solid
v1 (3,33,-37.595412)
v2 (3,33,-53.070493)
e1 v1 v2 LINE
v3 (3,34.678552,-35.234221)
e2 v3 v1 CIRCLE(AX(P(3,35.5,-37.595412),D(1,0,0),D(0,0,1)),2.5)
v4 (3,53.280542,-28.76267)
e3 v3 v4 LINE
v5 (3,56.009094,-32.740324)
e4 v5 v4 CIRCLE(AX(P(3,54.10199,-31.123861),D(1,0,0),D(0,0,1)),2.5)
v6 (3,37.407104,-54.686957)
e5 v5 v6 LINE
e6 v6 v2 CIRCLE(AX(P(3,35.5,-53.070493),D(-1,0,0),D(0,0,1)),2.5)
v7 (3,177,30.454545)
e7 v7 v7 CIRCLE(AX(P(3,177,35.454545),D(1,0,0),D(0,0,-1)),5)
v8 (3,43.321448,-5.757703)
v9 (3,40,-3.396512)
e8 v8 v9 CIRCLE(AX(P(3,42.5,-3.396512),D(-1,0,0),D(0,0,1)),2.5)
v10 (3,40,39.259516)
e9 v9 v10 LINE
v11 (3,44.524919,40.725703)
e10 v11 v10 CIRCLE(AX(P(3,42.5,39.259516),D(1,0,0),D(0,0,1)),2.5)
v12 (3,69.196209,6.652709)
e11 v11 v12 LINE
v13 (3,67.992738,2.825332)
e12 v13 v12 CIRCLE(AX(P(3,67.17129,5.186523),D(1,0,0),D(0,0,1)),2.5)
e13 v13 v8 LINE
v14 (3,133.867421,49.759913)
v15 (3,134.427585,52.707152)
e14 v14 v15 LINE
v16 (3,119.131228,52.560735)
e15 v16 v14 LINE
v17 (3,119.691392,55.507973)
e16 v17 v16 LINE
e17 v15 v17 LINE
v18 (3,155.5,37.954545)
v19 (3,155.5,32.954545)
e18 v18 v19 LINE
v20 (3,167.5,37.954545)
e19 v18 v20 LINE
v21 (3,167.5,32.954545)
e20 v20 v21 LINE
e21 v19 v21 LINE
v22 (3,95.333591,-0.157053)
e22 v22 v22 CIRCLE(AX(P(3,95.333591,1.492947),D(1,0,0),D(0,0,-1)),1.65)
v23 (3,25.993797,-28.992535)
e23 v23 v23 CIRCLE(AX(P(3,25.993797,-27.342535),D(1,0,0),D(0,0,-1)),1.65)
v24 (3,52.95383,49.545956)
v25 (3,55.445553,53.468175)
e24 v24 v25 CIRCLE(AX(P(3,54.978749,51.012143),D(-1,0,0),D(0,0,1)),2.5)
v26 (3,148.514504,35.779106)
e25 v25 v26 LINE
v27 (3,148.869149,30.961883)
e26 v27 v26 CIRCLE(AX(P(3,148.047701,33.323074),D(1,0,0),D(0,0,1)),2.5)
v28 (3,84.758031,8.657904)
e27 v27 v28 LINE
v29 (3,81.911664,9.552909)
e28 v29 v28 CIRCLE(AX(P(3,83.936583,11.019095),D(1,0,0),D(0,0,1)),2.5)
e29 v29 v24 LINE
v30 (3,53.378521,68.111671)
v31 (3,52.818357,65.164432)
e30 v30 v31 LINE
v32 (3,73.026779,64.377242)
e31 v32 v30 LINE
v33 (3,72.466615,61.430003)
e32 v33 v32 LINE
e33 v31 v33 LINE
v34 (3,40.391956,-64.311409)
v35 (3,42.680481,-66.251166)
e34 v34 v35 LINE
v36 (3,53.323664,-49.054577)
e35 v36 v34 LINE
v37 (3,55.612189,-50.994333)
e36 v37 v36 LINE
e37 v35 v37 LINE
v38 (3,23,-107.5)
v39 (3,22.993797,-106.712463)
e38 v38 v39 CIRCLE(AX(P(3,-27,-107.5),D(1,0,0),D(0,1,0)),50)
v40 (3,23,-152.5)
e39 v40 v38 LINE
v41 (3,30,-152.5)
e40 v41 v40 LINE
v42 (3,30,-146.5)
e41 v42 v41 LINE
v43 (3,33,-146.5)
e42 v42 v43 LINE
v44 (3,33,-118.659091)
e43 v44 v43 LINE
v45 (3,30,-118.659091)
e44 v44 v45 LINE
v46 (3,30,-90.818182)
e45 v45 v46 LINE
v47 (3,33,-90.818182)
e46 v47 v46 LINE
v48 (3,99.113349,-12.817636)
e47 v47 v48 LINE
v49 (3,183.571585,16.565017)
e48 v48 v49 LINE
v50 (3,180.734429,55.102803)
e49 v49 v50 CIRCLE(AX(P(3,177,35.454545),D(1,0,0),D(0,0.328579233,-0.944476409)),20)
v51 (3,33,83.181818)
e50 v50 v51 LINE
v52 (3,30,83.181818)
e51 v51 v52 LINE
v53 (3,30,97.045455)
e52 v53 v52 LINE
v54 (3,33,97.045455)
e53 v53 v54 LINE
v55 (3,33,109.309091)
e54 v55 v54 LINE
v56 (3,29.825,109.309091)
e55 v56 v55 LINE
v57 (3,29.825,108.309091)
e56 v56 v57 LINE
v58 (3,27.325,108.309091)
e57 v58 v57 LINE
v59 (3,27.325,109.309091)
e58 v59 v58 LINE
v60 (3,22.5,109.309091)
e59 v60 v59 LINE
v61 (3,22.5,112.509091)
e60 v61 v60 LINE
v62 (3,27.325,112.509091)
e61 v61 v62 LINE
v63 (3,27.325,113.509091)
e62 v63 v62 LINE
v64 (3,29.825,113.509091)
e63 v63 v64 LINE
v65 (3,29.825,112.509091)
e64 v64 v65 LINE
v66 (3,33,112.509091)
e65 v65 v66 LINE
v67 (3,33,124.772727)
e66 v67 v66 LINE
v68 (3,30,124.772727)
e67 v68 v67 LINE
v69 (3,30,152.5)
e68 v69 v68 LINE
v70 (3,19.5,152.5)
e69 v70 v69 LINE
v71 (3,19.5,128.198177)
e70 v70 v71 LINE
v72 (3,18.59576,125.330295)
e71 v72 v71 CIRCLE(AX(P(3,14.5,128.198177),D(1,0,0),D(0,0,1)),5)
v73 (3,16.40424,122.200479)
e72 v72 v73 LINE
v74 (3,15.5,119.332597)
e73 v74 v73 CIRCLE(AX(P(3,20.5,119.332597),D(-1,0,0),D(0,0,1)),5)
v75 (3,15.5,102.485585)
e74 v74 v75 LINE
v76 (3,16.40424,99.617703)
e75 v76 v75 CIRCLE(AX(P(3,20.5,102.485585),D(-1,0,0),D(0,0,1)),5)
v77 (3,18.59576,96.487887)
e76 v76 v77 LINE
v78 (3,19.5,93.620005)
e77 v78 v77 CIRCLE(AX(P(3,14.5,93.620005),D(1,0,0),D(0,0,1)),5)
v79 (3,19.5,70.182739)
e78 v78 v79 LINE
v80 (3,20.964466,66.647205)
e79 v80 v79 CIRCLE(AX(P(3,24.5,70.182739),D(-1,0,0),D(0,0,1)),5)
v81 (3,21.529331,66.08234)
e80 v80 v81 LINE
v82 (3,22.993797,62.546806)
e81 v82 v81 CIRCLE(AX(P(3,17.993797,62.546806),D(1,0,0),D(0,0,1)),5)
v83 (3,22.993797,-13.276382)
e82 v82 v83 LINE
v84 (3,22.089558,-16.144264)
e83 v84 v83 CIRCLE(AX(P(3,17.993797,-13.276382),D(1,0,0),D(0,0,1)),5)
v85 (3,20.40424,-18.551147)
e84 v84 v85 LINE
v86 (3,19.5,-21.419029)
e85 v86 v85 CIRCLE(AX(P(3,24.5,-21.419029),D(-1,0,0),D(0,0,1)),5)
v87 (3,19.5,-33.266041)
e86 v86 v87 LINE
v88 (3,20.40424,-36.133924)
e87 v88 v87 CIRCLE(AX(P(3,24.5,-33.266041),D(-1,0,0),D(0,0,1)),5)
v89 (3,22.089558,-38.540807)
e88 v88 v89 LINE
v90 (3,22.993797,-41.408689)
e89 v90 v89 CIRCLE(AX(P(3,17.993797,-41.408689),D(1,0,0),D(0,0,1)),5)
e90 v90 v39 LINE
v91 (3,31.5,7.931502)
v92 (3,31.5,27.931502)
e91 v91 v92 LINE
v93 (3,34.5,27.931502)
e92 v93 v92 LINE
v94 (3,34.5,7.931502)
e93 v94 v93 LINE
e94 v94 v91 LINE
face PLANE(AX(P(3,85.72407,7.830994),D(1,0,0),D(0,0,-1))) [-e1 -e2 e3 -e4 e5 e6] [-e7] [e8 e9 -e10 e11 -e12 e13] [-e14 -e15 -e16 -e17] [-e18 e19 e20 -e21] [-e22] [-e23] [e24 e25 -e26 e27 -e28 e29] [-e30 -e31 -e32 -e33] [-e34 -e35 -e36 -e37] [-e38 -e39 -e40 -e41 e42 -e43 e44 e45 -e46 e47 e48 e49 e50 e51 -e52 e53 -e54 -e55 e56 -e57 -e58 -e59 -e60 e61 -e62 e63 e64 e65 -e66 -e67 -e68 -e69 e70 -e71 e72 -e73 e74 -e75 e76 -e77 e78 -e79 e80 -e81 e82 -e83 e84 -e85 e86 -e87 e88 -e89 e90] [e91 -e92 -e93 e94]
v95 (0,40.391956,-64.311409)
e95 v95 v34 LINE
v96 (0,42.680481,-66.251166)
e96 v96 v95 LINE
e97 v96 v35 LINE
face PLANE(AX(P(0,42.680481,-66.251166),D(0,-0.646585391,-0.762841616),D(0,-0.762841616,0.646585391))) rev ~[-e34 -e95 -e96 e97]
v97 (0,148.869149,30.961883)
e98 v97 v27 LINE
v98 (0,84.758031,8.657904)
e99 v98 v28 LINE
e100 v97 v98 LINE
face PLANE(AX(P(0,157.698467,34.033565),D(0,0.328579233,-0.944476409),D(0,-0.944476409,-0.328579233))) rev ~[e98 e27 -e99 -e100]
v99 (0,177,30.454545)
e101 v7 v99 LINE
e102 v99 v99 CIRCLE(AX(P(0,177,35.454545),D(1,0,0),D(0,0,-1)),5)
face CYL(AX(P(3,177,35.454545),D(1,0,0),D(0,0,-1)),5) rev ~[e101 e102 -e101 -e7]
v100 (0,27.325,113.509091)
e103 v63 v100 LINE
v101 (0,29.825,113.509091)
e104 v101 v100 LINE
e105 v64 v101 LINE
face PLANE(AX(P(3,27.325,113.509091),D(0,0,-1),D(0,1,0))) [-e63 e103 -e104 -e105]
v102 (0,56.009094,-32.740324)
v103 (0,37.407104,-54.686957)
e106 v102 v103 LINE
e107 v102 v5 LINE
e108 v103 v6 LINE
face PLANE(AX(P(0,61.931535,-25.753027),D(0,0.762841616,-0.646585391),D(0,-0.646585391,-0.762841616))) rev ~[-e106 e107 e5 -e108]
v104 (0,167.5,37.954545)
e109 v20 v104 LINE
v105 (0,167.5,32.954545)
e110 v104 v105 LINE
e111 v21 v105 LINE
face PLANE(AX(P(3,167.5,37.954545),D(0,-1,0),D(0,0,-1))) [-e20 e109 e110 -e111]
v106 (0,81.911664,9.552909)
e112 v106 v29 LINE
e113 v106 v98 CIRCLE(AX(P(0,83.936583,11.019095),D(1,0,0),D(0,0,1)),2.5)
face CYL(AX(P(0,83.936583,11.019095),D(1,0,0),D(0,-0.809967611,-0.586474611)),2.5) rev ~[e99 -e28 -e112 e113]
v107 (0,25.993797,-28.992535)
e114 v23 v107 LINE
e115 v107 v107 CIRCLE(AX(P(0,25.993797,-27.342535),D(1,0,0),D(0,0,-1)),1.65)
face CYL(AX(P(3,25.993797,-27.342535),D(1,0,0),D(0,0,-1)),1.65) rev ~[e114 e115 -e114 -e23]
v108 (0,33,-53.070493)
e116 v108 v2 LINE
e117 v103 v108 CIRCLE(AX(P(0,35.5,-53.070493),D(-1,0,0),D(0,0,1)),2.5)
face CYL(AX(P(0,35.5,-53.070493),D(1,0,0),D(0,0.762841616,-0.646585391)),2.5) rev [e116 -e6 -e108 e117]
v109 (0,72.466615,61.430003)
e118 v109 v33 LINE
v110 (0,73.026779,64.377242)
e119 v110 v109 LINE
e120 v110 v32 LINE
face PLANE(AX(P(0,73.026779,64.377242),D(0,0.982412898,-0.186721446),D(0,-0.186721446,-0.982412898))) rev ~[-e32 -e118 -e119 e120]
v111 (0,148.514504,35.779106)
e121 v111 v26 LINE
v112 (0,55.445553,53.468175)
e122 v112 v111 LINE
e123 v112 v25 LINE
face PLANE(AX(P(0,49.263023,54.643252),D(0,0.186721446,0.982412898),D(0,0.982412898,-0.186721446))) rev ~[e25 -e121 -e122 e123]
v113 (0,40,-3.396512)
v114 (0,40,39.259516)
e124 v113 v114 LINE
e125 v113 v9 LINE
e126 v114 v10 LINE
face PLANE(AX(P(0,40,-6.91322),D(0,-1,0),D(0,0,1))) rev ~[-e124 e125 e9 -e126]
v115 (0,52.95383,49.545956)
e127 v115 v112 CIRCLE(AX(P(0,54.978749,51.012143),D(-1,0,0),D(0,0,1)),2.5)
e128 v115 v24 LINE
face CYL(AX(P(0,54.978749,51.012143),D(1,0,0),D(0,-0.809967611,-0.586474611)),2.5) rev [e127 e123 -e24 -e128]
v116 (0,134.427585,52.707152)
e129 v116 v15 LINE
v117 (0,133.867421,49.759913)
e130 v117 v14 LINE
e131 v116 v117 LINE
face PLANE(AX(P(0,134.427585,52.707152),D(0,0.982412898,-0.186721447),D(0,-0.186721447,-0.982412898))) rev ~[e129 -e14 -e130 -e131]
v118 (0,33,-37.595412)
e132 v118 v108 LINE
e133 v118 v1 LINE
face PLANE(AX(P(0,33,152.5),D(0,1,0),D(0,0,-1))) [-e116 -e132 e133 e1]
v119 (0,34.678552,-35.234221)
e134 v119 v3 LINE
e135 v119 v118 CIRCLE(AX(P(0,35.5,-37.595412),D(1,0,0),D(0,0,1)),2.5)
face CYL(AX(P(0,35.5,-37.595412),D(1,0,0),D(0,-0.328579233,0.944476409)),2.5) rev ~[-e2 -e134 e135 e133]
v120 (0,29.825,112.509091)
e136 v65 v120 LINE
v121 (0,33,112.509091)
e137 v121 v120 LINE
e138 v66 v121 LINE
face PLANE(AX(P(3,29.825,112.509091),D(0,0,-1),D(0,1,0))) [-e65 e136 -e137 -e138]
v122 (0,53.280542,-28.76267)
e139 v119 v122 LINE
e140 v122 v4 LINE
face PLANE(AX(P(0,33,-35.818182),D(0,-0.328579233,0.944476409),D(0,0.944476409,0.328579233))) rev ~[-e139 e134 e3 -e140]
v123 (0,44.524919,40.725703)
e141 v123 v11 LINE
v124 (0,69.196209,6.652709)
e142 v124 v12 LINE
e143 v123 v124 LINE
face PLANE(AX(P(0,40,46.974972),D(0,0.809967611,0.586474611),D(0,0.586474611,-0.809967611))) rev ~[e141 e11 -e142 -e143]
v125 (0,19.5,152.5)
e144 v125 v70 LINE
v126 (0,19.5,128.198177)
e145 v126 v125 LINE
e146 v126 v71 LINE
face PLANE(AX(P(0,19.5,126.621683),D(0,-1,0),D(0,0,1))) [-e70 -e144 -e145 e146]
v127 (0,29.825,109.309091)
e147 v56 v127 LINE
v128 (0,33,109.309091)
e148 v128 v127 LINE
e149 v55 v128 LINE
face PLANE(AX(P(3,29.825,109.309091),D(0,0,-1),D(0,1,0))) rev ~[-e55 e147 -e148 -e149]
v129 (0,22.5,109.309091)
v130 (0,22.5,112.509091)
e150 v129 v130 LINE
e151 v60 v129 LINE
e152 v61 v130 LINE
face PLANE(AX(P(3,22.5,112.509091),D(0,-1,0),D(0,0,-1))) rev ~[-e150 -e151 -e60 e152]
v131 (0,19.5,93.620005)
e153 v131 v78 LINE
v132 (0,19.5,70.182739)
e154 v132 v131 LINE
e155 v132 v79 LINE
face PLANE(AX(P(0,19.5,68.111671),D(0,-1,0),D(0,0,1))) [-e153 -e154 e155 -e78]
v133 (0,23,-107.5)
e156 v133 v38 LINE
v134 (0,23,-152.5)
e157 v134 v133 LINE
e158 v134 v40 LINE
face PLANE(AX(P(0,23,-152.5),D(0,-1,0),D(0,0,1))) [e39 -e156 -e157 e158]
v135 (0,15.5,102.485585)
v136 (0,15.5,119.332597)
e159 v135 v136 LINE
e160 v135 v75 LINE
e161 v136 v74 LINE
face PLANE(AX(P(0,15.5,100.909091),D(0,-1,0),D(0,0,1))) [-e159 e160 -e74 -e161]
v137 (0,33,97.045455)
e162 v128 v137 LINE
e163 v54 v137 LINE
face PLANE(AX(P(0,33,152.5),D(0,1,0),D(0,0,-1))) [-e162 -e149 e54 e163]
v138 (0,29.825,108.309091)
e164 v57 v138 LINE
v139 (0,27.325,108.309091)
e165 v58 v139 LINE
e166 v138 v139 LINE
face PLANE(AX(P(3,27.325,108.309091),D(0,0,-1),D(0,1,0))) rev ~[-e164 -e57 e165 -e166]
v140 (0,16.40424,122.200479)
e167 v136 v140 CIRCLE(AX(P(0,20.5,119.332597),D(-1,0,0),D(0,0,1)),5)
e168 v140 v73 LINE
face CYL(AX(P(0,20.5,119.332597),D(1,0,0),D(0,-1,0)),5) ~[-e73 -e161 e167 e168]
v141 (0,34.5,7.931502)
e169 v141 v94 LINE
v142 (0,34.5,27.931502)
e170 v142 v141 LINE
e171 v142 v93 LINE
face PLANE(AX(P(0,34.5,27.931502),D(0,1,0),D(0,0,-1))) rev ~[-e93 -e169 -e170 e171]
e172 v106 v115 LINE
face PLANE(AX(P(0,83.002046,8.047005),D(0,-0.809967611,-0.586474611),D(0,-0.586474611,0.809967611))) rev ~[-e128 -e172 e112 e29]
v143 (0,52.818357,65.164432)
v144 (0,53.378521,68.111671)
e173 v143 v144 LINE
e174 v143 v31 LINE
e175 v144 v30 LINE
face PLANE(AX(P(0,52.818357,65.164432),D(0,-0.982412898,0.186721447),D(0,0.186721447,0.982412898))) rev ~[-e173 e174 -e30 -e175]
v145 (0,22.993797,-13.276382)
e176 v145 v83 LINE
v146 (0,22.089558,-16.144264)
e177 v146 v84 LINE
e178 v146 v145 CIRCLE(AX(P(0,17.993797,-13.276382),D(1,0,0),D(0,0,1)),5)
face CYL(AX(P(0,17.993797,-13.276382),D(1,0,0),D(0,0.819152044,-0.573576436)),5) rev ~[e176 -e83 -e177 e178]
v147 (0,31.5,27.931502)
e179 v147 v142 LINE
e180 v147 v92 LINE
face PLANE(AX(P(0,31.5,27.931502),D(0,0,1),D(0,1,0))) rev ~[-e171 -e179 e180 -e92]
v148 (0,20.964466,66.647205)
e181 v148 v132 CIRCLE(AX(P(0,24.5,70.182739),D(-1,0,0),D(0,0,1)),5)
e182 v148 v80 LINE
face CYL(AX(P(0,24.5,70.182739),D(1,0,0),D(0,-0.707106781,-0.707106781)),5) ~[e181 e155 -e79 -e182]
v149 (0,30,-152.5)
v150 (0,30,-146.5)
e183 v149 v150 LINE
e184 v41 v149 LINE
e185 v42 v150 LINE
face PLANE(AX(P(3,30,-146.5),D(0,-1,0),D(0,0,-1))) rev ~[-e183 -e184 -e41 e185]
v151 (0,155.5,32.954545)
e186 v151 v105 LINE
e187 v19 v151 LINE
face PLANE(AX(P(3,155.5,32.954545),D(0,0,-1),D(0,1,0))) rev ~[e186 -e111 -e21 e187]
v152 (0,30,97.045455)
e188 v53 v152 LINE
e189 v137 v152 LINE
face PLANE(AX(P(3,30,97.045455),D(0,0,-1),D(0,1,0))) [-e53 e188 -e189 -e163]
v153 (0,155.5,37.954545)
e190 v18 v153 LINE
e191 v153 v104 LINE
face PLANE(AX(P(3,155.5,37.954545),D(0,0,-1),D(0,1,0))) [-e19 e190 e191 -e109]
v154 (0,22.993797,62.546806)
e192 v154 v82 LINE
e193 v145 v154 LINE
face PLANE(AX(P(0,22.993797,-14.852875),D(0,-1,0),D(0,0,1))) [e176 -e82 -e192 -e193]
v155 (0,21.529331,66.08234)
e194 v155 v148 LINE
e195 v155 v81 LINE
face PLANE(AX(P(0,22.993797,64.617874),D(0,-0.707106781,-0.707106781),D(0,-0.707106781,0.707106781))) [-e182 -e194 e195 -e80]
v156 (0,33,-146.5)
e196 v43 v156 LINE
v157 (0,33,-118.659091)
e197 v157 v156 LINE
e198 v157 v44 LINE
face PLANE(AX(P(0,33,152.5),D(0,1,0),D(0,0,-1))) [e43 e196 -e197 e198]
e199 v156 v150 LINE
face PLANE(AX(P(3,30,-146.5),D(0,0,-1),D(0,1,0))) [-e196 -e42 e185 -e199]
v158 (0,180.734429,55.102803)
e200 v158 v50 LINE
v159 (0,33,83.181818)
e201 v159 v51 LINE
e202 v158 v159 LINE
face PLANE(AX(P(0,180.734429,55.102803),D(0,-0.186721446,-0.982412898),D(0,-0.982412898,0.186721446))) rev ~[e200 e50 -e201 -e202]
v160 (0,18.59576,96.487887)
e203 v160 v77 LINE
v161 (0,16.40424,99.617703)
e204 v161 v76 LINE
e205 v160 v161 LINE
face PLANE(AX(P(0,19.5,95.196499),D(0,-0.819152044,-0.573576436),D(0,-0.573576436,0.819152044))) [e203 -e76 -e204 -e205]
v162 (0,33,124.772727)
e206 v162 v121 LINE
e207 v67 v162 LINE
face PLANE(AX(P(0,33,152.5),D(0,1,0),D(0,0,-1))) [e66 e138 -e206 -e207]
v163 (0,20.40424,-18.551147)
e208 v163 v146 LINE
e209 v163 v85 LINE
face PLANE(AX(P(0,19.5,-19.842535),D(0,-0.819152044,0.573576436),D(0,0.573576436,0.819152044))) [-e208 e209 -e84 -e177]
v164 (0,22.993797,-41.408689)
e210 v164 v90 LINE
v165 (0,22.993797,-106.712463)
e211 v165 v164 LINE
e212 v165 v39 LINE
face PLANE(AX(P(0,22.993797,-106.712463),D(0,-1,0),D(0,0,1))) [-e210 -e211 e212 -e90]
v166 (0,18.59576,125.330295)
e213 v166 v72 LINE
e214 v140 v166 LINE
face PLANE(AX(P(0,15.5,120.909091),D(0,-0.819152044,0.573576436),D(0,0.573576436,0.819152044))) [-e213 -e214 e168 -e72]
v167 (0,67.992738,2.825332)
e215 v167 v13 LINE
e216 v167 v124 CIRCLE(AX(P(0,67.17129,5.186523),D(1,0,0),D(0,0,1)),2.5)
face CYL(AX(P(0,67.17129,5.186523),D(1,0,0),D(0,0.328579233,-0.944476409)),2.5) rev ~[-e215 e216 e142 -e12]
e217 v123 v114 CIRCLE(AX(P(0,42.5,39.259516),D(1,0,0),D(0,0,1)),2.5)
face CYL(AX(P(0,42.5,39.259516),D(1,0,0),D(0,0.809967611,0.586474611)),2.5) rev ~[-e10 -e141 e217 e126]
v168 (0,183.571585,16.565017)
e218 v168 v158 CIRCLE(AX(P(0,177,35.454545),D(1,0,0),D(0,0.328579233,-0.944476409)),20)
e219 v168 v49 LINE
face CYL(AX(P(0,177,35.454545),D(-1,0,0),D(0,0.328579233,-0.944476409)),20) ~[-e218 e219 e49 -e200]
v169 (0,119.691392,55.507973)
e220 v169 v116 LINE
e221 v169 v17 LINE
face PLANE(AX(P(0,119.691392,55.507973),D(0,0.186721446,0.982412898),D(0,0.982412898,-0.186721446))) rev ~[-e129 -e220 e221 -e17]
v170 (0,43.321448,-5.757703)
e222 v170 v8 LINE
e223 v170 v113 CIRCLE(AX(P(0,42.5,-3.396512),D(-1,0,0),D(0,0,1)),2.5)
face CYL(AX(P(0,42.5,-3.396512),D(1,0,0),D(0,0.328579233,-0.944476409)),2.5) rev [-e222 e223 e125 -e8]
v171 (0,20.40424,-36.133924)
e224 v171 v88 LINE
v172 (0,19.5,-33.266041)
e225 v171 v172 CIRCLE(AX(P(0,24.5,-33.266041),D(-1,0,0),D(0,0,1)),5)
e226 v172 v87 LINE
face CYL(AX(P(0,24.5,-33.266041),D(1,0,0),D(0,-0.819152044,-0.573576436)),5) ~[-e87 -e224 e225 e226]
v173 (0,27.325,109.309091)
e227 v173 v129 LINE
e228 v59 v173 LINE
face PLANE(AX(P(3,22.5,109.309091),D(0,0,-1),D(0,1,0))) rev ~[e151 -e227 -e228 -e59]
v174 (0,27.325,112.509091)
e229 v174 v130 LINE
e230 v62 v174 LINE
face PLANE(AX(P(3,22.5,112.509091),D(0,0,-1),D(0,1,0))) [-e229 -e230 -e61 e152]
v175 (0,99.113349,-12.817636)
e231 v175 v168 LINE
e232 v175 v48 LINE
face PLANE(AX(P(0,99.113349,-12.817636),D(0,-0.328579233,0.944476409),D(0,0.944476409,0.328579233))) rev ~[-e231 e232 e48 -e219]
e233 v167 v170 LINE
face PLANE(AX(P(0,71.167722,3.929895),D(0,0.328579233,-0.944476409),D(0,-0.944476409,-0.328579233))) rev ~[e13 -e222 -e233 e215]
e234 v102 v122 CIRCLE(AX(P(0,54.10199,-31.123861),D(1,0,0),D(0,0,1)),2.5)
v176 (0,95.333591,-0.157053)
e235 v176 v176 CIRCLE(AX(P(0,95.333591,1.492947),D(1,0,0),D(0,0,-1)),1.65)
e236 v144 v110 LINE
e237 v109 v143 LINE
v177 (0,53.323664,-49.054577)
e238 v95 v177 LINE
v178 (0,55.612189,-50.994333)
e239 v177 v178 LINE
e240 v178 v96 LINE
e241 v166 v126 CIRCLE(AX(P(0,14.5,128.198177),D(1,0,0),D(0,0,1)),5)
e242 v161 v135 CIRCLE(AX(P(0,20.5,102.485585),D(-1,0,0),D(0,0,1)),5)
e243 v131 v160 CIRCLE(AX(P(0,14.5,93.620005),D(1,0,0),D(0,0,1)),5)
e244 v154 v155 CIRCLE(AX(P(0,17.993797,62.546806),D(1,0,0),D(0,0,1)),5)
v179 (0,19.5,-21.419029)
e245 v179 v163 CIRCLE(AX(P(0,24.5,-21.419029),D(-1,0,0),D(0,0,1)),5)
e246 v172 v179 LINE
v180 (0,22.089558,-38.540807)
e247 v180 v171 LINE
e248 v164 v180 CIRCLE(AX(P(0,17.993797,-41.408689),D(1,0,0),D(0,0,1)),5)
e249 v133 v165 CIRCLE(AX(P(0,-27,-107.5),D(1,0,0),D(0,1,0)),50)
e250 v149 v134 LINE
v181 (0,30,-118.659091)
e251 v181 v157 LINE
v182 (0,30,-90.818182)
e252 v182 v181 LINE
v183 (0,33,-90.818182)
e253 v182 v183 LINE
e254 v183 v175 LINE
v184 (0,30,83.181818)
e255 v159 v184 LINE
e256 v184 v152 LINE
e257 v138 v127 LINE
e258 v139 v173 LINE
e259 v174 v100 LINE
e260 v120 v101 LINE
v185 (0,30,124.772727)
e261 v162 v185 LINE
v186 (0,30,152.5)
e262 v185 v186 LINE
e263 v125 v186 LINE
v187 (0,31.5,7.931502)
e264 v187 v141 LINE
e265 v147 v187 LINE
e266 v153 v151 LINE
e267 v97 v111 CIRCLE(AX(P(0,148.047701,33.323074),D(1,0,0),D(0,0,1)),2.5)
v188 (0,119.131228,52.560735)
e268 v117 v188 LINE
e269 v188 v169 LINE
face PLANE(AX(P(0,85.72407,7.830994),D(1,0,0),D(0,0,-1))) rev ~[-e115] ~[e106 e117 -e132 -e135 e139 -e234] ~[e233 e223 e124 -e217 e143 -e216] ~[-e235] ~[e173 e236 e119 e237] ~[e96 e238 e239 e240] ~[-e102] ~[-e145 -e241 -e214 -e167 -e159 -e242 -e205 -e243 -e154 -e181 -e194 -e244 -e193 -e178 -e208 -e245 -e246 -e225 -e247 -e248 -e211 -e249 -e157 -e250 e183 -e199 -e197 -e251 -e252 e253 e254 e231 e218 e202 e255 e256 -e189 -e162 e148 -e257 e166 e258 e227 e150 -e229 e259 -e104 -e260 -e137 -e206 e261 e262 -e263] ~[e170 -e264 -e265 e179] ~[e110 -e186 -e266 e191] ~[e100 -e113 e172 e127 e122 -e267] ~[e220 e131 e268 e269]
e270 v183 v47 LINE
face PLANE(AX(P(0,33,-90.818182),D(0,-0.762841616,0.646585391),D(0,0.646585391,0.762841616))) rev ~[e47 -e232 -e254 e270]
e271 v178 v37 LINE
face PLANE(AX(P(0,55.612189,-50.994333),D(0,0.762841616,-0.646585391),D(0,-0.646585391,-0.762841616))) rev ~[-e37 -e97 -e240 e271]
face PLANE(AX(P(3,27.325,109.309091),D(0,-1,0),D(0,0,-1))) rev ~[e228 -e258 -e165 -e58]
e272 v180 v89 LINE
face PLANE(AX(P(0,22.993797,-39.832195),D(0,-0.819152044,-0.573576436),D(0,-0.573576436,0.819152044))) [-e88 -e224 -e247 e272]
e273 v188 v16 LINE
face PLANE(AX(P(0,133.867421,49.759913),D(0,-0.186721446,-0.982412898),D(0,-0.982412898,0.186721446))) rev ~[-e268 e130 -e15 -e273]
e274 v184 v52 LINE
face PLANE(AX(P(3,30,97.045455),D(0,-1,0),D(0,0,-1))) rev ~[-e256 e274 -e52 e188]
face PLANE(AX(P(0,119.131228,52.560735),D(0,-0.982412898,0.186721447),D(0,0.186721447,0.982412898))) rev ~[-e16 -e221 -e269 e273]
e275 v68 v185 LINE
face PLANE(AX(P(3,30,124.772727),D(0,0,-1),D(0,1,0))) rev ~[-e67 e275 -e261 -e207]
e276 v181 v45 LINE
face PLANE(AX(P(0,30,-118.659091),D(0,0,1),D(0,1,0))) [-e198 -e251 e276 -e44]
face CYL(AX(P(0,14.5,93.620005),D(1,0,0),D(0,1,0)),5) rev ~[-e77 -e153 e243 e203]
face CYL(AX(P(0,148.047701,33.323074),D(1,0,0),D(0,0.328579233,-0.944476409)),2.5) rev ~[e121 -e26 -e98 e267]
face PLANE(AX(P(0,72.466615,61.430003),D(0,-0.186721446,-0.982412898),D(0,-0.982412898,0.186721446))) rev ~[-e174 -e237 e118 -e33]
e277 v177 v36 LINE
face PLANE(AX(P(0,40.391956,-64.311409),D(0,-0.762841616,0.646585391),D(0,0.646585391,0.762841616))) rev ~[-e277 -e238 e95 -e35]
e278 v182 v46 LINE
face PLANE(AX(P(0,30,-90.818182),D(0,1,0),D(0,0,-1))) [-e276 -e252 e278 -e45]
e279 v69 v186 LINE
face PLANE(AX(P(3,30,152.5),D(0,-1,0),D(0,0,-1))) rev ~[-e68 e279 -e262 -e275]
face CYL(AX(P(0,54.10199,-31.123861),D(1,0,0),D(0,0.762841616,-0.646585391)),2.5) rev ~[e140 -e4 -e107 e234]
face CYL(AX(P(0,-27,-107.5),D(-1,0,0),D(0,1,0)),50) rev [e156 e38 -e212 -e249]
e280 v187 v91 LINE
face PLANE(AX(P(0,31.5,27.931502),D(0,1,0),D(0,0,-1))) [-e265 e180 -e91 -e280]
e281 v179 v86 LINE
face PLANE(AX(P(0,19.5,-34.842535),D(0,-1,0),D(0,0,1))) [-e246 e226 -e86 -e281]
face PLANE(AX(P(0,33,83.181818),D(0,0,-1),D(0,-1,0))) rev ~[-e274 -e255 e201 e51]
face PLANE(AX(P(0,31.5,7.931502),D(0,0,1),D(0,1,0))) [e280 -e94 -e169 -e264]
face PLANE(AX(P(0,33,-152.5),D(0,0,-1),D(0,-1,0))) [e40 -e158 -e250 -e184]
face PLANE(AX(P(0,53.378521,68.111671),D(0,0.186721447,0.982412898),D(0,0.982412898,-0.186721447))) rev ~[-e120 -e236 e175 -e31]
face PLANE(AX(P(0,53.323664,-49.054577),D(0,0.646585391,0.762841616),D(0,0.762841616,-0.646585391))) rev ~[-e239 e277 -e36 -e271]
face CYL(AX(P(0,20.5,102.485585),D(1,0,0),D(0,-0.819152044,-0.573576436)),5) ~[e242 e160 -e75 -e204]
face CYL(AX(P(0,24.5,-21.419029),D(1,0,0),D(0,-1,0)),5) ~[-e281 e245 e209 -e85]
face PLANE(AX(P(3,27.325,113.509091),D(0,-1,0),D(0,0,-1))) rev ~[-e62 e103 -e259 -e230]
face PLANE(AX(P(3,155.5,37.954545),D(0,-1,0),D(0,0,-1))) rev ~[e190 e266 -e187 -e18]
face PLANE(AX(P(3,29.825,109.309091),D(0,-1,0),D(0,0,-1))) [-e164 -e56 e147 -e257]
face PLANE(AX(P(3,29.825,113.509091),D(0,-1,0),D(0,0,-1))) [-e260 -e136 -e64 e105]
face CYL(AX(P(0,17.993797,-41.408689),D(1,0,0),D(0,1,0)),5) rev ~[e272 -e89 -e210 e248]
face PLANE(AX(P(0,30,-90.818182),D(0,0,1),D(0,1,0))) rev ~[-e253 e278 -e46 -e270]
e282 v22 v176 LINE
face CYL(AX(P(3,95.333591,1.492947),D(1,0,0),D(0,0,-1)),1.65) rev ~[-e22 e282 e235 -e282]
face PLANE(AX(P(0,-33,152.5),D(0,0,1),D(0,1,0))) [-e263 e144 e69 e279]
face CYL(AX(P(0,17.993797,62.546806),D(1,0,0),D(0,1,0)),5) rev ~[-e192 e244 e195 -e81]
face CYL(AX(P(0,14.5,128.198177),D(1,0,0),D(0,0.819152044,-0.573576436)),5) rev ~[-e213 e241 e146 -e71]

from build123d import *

# Parameters (mm, degrees)
BOSS_EXTRUDE1_DEPTH      = 3
SKETCH2_W                = 27.727272727
SKETCH2_H                = 3
SKETCH2_W_2              = 3
SKETCH2_H_2              = 18
SKETCH2_H_3              = 9
SKETCH2_W_3              = 23.343342349
SKETCH2_W_4              = 23.34334235
SKETCH2_W_5              = 6
CUT_EXTRUDE1_DEPTH       = 157.058482628
CUT_EXTRUDE1_DEPTH_BACK  = 157.058482628
SKETCH3_W                = 3.2
SKETCH3_H                = 10.5
SKETCH3_W_2              = 5.2
SKETCH3_H_2              = 2.5
CUT_EXTRUDE2_DEPTH       = 157.058482628
CUT_EXTRUDE2_DEPTH_BACK  = 157.058482628
FILLET1_R                = 2.5
BOSS_EXTRUDE2_DEPTH      = 3
FILLET2_R                = 2.5
SKETCH6_R                = 5
SKETCH6_R_2              = 1.65
CUT_EXTRUDE5_DEPTH       = 250.147044935
CUT_EXTRUDE5_DEPTH_BACK  = 250.147044935
SKETCH8_R                = 10
CUT_EXTRUDE6_DEPTH       = 250.147044935
CUT_EXTRUDE6_DEPTH_BACK  = 250.147044935
SKETCH9_W                = 20
SKETCH9_H                = 3
CUT_EXTRUDE7_DEPTH       = 250.147044935
CUT_EXTRUDE7_DEPTH_BACK  = 250.147044935
SKETCH10_W               = 23.343342349
SKETCH10_H               = 3
SKETCH10_R               = 10
SKETCH10_W_2             = 23.34334235
CUT_EXTRUDE8_DEPTH       = 250.147044935
CUT_EXTRUDE8_DEPTH_BACK  = 250.147044935
SKETCH11_W               = 27.840909091
SKETCH11_H               = 3
CUT_EXTRUDE9_DEPTH       = 250.147044935
CUT_EXTRUDE9_DEPTH_BACK  = 250.147044935
FILLET3_R                = 5
SKETCH12_W               = 5
SKETCH12_H               = 12
CUT_EXTRUDE10_DEPTH      = 250.147044935
CUT_EXTRUDE10_DEPTH_BACK = 250.147044935


with BuildPart() as part:
    # Sketch1 → Boss-Extrude1 (new body)
    with BuildSketch(Plane(origin=(0, 0, 0), x_dir=(0, 0, -1), z_dir=(1, 0, 0))):
        with BuildLine():
            Line((-152.5, 33), (152.5, 33))
            Line((152.5, 33), (152.5, 23))
            Line((152.5, 23), (107.5, 23))
            ThreePointArc((107.5, 23), (72.144660941, 8.355339059), (57.5, -27))
            Line((57.5, -27), (57.5, -33))
            Line((57.5, -33), (-152.5, -33))
            Line((-152.5, -33), (-152.5, 33))
        make_face()
    extrude(amount=BOSS_EXTRUDE1_DEPTH)

    # Sketch2 → Cut-Extrude1 (cut, two sides)
    with BuildSketch(Plane(origin=(3, 0, 0), x_dir=(0, 0, -1), z_dir=(1, 0, 0))) as cut_extrude1_sk:
        with Locations((-138.636363636, 31.5)):
            Rectangle(SKETCH2_W, SKETCH2_H)
        with Locations((-83.181818182, 31.5)):
            Rectangle(SKETCH2_W, SKETCH2_H)
        with Locations((-27.727272728, 31.5)):
            Rectangle(SKETCH2_W, SKETCH2_H)
        with Locations((-151, 3)):
            Rectangle(SKETCH2_W_2, SKETCH2_H_2)
        with Locations((-151, -28.5)):
            Rectangle(SKETCH2_W_2, SKETCH2_H_3)
        with Locations((-117.484986475, -28.5)):
            Rectangle(SKETCH2_W_3, SKETCH2_H)
        with Locations((-70.798301777, -28.5)):
            Rectangle(SKETCH2_W_3, SKETCH2_H)
        with Locations((22.575067622, -28.5)):
            Rectangle(SKETCH2_W_4, SKETCH2_H)
        with Locations((149.5, 31.5)):
            Rectangle(SKETCH2_W_5, SKETCH2_H)
        with Locations((-24.111617078, -28.5)):
            Rectangle(SKETCH2_W_3, SKETCH2_H)
    extrude(amount=CUT_EXTRUDE1_DEPTH, mode=Mode.SUBTRACT)
    extrude(cut_extrude1_sk.sketch, amount=-CUT_EXTRUDE1_DEPTH_BACK, mode=Mode.SUBTRACT)

    # Sketch3 → Cut-Extrude2 (cut, two sides)
    with BuildSketch(Plane(origin=(3, 0, 0), x_dir=(0, 0, -1), z_dir=(1, 0, 0))) as cut_extrude2_sk:
        with Locations((-110.909090909, 27.75)):
            Rectangle(SKETCH3_W, SKETCH3_H)
        with Locations((-110.909090909, 28.575)):
            Rectangle(SKETCH3_W_2, SKETCH3_H_2)
    extrude(amount=CUT_EXTRUDE2_DEPTH, mode=Mode.SUBTRACT)
    extrude(cut_extrude2_sk.sketch, amount=-CUT_EXTRUDE2_DEPTH_BACK, mode=Mode.SUBTRACT)

    # Fillet1
    fillet1_edges = [part.edges().sort_by_distance(p)[0] for p in [
        (1.5, -33, -57.5),
    ]]
    fillet(fillet1_edges, radius=FILLET1_R)

    # Sketch4 → Boss-Extrude2 (add)
    with BuildSketch(Plane(origin=(0, 0, 0), x_dir=(0, 0, -1), z_dir=(1, 0, 0))):
        with BuildLine():
            Line((-83.181818182, 33), (-83.181818182, 30))
            Line((-83.181818182, 30), (35.818181818, 30))
            Line((35.818181818, 30), (35.818181818, 33))
            Line((35.818181818, 33), (25.753026775, 61.931534749))
            Line((25.753026775, 61.931534749), (59.886459158, 33))
            Line((59.886459158, 33), (90.818181818, 33))
            Line((90.818181818, 33), (12.817635516, 99.113348651))
            Line((12.817635516, 99.113348651), (-16.565017269, 183.571584658))
            ThreePointArc((-16.565017269, 183.571584658), (-36.922973482, 196.946020133), (-55.102803407, 180.73442893))
            Line((-55.102803407, 180.73442893), (-83.181818182, 33))
        make_face()
        Polygon((6.913219914, 40), (-46.974972009, 40), (-3.929894771, 71.167721507), align=None, mode=Mode.SUBTRACT)
        Polygon((-54.643252411, 49.263022537), (-34.033564648, 157.698467174), (-8.047004759, 83.002045982), align=None, mode=Mode.SUBTRACT)
    extrude(amount=BOSS_EXTRUDE2_DEPTH)

    # Fillet2
    fillet2_edges = [part.edges().sort_by_distance(p)[0] for p in [
        (1.5, 33, -59.886459158),
        (1.5, 61.931534749, -25.753026775),
        (1.5, 33, -35.818181818),
        (1.5, 40, -6.913219914),
        (1.5, 71.167721507, 3.929894771),
        (1.5, 40, 46.974972009),
        (1.5, 49.263022537, 54.643252411),
        (1.5, 83.002045982, 8.047004759),
        (1.5, 157.698467174, 34.033564648),
    ]]
    fillet(fillet2_edges, radius=FILLET2_R)

    # Sketch6 → Cut-Extrude5 (cut, two sides)
    with BuildSketch(Plane(origin=(3, 0, 0), x_dir=(0, 0, -1), z_dir=(1, 0, 0))) as cut_extrude5_sk:
        with Locations((-35.454545455, 177)):
            Circle(SKETCH6_R)
        with Locations((-1.492946709, 95.333591431)):
            Circle(SKETCH6_R_2)
        with Locations((27.342535354, 25.993797473)):
            Circle(SKETCH6_R_2)
    extrude(amount=CUT_EXTRUDE5_DEPTH, mode=Mode.SUBTRACT)
    extrude(cut_extrude5_sk.sketch, amount=-CUT_EXTRUDE5_DEPTH_BACK, mode=Mode.SUBTRACT)

    # Sketch8 → Cut-Extrude6 (cut, two sides)
    with BuildSketch(Plane(origin=(0, 0, 0), x_dir=(0, 0, -1), z_dir=(1, 0, 0))) as cut_extrude6_sk:
        with Locations((-5, 0)):
            Circle(SKETCH8_R)
        with Locations((-40, 0)):
            Circle(SKETCH8_R)
    extrude(amount=CUT_EXTRUDE6_DEPTH, mode=Mode.SUBTRACT)
    extrude(cut_extrude6_sk.sketch, amount=-CUT_EXTRUDE6_DEPTH_BACK, mode=Mode.SUBTRACT)

    # Sketch9 → Cut-Extrude7 (cut, two sides)
    with BuildSketch(Plane(origin=(0, 0, 0), x_dir=(0, 0, -1), z_dir=(1, 0, 0))) as cut_extrude7_sk:
        Polygon((-68.111670983, 53.378521315), (-64.377242053, 73.026779267), (-61.43000336, 72.466614928), (-65.16443229, 52.818356975), align=None)
        Polygon((-55.507973344, 119.691391905), (-52.707151647, 134.427585369), (-49.759912954, 133.867421029), (-52.560734651, 119.131227565), align=None)
        Polygon((64.311409407, 40.391956194), (49.054577079, 53.32366402), (50.994333253, 55.612188869), (66.251165581, 42.680481043), align=None)
        with Locations((-17.931502251, 33)):
            Rectangle(SKETCH9_W, SKETCH9_H)
    extrude(amount=CUT_EXTRUDE7_DEPTH, mode=Mode.SUBTRACT)
    extrude(cut_extrude7_sk.sketch, amount=-CUT_EXTRUDE7_DEPTH_BACK, mode=Mode.SUBTRACT)

    # Sketch10 → Cut-Extrude8 (cut, two sides)
    with BuildSketch(Plane(origin=(0, 0, 0), x_dir=(0, 0, -1), z_dir=(1, 0, 0))) as cut_extrude8_sk:
        with BuildLine():
            Line((-149.5, -33), (55, -33))
            ThreePointArc((55, -33), (56.767766953, -32.267766953), (57.5, -30.5))
            Line((57.5, -30.5), (57.5, -27))
            ThreePointArc((57.5, -27), (71.867312479, 8.075797639), (106.712463201, 22.993797473))
            Line((106.712463201, 22.993797473), (39.832195251, 22.993797473))
            Line((39.832195251, 22.993797473), (34.842535354, 19.5))
            Line((34.842535354, 19.5), (19.842535354, 19.5))
            Line((19.842535354, 19.5), (14.852875457, 22.993797473))
            Line((14.852875457, 22.993797473), (-64.61787351, 22.993797473))
            Line((-64.61787351, 22.993797473), (-68.111670983, 19.5))
            Line((-68.111670983, 19.5), (-95.196498882, 19.5))
            Line((-95.196498882, 19.5), (-100.909090909, 15.5))
            Line((-100.909090909, 15.5), (-120.909090909, 15.5))
            Line((-120.909090909, 15.5), (-126.621682936, 19.5))
            Line((-126.621682936, 19.5), (-152.5, 19.5))
            Line((-152.5, 19.5), (-152.5, 12))
            Line((-152.5, 12), (-149.5, 12))
            Line((-149.5, 12), (-149.5, -6))
            Line((-149.5, -6), (-152.5, -6))
            Line((-152.5, -6), (-152.5, -24))
            Line((-152.5, -24), (-149.5, -24))
            Line((-149.5, -24), (-149.5, -33))
        make_face()
        with Locations((-117.484986475, -28.5)):
            Rectangle(SKETCH10_W, SKETCH10_H, mode=Mode.SUBTRACT)
        with Locations((-70.798301777, -28.5)):
            Rectangle(SKETCH10_W, SKETCH10_H, mode=Mode.SUBTRACT)
        with Locations((-24.111617078, -28.5)):
            Rectangle(SKETCH10_W, SKETCH10_H, mode=Mode.SUBTRACT)
        with Locations((-40, 0)):
            Circle(SKETCH10_R, mode=Mode.SUBTRACT)
        with Locations((-5, 0)):
            Circle(SKETCH10_R, mode=Mode.SUBTRACT)
        with Locations((22.575067622, -28.5)):
            Rectangle(SKETCH10_W_2, SKETCH10_H, mode=Mode.SUBTRACT)
    extrude(amount=CUT_EXTRUDE8_DEPTH, mode=Mode.SUBTRACT)
    extrude(cut_extrude8_sk.sketch, amount=-CUT_EXTRUDE8_DEPTH_BACK, mode=Mode.SUBTRACT)

    # Sketch11 → Cut-Extrude9 (cut, two sides)
    with BuildSketch(Plane(origin=(0, 0, 0), x_dir=(0, 0, -1), z_dir=(1, 0, 0))) as cut_extrude9_sk:
        with Locations((104.738636364, 31.5)):
            Rectangle(SKETCH11_W, SKETCH11_H)
    extrude(amount=CUT_EXTRUDE9_DEPTH, mode=Mode.SUBTRACT)
    extrude(cut_extrude9_sk.sketch, amount=-CUT_EXTRUDE9_DEPTH_BACK, mode=Mode.SUBTRACT)

    # Fillet3
    fillet3_edges = [part.edges().sort_by_distance(p)[0] for p in [
        (1.5, 15.5, 100.909090909),
        (1.5, 19.5, 95.196498882),
        (1.5, 19.5, 68.111670983),
        (1.5, 22.993797473, 64.61787351),
        (1.5, 22.993797473, -14.852875457),
        (1.5, 19.5, -19.842535354),
        (1.5, 19.5, -34.842535354),
        (1.5, 22.993797473, -39.832195251),
        (1.5, 19.5, 126.621682936),
        (1.5, 15.5, 120.909090909),
    ]]
    fillet(fillet3_edges, radius=FILLET3_R)

    # Sketch12 → Cut-Extrude10 (cut, two sides)
    with BuildSketch(Plane(origin=(3, 0, 0), x_dir=(0, 0, -1), z_dir=(1, 0, 0))) as cut_extrude10_sk:
        with Locations((-35.454545455, 161.5)):
            Rectangle(SKETCH12_W, SKETCH12_H)
    extrude(amount=CUT_EXTRUDE10_DEPTH, mode=Mode.SUBTRACT)
    extrude(cut_extrude10_sk.sketch, amount=-CUT_EXTRUDE10_DEPTH_BACK, mode=Mode.SUBTRACT)


solid = part.part
